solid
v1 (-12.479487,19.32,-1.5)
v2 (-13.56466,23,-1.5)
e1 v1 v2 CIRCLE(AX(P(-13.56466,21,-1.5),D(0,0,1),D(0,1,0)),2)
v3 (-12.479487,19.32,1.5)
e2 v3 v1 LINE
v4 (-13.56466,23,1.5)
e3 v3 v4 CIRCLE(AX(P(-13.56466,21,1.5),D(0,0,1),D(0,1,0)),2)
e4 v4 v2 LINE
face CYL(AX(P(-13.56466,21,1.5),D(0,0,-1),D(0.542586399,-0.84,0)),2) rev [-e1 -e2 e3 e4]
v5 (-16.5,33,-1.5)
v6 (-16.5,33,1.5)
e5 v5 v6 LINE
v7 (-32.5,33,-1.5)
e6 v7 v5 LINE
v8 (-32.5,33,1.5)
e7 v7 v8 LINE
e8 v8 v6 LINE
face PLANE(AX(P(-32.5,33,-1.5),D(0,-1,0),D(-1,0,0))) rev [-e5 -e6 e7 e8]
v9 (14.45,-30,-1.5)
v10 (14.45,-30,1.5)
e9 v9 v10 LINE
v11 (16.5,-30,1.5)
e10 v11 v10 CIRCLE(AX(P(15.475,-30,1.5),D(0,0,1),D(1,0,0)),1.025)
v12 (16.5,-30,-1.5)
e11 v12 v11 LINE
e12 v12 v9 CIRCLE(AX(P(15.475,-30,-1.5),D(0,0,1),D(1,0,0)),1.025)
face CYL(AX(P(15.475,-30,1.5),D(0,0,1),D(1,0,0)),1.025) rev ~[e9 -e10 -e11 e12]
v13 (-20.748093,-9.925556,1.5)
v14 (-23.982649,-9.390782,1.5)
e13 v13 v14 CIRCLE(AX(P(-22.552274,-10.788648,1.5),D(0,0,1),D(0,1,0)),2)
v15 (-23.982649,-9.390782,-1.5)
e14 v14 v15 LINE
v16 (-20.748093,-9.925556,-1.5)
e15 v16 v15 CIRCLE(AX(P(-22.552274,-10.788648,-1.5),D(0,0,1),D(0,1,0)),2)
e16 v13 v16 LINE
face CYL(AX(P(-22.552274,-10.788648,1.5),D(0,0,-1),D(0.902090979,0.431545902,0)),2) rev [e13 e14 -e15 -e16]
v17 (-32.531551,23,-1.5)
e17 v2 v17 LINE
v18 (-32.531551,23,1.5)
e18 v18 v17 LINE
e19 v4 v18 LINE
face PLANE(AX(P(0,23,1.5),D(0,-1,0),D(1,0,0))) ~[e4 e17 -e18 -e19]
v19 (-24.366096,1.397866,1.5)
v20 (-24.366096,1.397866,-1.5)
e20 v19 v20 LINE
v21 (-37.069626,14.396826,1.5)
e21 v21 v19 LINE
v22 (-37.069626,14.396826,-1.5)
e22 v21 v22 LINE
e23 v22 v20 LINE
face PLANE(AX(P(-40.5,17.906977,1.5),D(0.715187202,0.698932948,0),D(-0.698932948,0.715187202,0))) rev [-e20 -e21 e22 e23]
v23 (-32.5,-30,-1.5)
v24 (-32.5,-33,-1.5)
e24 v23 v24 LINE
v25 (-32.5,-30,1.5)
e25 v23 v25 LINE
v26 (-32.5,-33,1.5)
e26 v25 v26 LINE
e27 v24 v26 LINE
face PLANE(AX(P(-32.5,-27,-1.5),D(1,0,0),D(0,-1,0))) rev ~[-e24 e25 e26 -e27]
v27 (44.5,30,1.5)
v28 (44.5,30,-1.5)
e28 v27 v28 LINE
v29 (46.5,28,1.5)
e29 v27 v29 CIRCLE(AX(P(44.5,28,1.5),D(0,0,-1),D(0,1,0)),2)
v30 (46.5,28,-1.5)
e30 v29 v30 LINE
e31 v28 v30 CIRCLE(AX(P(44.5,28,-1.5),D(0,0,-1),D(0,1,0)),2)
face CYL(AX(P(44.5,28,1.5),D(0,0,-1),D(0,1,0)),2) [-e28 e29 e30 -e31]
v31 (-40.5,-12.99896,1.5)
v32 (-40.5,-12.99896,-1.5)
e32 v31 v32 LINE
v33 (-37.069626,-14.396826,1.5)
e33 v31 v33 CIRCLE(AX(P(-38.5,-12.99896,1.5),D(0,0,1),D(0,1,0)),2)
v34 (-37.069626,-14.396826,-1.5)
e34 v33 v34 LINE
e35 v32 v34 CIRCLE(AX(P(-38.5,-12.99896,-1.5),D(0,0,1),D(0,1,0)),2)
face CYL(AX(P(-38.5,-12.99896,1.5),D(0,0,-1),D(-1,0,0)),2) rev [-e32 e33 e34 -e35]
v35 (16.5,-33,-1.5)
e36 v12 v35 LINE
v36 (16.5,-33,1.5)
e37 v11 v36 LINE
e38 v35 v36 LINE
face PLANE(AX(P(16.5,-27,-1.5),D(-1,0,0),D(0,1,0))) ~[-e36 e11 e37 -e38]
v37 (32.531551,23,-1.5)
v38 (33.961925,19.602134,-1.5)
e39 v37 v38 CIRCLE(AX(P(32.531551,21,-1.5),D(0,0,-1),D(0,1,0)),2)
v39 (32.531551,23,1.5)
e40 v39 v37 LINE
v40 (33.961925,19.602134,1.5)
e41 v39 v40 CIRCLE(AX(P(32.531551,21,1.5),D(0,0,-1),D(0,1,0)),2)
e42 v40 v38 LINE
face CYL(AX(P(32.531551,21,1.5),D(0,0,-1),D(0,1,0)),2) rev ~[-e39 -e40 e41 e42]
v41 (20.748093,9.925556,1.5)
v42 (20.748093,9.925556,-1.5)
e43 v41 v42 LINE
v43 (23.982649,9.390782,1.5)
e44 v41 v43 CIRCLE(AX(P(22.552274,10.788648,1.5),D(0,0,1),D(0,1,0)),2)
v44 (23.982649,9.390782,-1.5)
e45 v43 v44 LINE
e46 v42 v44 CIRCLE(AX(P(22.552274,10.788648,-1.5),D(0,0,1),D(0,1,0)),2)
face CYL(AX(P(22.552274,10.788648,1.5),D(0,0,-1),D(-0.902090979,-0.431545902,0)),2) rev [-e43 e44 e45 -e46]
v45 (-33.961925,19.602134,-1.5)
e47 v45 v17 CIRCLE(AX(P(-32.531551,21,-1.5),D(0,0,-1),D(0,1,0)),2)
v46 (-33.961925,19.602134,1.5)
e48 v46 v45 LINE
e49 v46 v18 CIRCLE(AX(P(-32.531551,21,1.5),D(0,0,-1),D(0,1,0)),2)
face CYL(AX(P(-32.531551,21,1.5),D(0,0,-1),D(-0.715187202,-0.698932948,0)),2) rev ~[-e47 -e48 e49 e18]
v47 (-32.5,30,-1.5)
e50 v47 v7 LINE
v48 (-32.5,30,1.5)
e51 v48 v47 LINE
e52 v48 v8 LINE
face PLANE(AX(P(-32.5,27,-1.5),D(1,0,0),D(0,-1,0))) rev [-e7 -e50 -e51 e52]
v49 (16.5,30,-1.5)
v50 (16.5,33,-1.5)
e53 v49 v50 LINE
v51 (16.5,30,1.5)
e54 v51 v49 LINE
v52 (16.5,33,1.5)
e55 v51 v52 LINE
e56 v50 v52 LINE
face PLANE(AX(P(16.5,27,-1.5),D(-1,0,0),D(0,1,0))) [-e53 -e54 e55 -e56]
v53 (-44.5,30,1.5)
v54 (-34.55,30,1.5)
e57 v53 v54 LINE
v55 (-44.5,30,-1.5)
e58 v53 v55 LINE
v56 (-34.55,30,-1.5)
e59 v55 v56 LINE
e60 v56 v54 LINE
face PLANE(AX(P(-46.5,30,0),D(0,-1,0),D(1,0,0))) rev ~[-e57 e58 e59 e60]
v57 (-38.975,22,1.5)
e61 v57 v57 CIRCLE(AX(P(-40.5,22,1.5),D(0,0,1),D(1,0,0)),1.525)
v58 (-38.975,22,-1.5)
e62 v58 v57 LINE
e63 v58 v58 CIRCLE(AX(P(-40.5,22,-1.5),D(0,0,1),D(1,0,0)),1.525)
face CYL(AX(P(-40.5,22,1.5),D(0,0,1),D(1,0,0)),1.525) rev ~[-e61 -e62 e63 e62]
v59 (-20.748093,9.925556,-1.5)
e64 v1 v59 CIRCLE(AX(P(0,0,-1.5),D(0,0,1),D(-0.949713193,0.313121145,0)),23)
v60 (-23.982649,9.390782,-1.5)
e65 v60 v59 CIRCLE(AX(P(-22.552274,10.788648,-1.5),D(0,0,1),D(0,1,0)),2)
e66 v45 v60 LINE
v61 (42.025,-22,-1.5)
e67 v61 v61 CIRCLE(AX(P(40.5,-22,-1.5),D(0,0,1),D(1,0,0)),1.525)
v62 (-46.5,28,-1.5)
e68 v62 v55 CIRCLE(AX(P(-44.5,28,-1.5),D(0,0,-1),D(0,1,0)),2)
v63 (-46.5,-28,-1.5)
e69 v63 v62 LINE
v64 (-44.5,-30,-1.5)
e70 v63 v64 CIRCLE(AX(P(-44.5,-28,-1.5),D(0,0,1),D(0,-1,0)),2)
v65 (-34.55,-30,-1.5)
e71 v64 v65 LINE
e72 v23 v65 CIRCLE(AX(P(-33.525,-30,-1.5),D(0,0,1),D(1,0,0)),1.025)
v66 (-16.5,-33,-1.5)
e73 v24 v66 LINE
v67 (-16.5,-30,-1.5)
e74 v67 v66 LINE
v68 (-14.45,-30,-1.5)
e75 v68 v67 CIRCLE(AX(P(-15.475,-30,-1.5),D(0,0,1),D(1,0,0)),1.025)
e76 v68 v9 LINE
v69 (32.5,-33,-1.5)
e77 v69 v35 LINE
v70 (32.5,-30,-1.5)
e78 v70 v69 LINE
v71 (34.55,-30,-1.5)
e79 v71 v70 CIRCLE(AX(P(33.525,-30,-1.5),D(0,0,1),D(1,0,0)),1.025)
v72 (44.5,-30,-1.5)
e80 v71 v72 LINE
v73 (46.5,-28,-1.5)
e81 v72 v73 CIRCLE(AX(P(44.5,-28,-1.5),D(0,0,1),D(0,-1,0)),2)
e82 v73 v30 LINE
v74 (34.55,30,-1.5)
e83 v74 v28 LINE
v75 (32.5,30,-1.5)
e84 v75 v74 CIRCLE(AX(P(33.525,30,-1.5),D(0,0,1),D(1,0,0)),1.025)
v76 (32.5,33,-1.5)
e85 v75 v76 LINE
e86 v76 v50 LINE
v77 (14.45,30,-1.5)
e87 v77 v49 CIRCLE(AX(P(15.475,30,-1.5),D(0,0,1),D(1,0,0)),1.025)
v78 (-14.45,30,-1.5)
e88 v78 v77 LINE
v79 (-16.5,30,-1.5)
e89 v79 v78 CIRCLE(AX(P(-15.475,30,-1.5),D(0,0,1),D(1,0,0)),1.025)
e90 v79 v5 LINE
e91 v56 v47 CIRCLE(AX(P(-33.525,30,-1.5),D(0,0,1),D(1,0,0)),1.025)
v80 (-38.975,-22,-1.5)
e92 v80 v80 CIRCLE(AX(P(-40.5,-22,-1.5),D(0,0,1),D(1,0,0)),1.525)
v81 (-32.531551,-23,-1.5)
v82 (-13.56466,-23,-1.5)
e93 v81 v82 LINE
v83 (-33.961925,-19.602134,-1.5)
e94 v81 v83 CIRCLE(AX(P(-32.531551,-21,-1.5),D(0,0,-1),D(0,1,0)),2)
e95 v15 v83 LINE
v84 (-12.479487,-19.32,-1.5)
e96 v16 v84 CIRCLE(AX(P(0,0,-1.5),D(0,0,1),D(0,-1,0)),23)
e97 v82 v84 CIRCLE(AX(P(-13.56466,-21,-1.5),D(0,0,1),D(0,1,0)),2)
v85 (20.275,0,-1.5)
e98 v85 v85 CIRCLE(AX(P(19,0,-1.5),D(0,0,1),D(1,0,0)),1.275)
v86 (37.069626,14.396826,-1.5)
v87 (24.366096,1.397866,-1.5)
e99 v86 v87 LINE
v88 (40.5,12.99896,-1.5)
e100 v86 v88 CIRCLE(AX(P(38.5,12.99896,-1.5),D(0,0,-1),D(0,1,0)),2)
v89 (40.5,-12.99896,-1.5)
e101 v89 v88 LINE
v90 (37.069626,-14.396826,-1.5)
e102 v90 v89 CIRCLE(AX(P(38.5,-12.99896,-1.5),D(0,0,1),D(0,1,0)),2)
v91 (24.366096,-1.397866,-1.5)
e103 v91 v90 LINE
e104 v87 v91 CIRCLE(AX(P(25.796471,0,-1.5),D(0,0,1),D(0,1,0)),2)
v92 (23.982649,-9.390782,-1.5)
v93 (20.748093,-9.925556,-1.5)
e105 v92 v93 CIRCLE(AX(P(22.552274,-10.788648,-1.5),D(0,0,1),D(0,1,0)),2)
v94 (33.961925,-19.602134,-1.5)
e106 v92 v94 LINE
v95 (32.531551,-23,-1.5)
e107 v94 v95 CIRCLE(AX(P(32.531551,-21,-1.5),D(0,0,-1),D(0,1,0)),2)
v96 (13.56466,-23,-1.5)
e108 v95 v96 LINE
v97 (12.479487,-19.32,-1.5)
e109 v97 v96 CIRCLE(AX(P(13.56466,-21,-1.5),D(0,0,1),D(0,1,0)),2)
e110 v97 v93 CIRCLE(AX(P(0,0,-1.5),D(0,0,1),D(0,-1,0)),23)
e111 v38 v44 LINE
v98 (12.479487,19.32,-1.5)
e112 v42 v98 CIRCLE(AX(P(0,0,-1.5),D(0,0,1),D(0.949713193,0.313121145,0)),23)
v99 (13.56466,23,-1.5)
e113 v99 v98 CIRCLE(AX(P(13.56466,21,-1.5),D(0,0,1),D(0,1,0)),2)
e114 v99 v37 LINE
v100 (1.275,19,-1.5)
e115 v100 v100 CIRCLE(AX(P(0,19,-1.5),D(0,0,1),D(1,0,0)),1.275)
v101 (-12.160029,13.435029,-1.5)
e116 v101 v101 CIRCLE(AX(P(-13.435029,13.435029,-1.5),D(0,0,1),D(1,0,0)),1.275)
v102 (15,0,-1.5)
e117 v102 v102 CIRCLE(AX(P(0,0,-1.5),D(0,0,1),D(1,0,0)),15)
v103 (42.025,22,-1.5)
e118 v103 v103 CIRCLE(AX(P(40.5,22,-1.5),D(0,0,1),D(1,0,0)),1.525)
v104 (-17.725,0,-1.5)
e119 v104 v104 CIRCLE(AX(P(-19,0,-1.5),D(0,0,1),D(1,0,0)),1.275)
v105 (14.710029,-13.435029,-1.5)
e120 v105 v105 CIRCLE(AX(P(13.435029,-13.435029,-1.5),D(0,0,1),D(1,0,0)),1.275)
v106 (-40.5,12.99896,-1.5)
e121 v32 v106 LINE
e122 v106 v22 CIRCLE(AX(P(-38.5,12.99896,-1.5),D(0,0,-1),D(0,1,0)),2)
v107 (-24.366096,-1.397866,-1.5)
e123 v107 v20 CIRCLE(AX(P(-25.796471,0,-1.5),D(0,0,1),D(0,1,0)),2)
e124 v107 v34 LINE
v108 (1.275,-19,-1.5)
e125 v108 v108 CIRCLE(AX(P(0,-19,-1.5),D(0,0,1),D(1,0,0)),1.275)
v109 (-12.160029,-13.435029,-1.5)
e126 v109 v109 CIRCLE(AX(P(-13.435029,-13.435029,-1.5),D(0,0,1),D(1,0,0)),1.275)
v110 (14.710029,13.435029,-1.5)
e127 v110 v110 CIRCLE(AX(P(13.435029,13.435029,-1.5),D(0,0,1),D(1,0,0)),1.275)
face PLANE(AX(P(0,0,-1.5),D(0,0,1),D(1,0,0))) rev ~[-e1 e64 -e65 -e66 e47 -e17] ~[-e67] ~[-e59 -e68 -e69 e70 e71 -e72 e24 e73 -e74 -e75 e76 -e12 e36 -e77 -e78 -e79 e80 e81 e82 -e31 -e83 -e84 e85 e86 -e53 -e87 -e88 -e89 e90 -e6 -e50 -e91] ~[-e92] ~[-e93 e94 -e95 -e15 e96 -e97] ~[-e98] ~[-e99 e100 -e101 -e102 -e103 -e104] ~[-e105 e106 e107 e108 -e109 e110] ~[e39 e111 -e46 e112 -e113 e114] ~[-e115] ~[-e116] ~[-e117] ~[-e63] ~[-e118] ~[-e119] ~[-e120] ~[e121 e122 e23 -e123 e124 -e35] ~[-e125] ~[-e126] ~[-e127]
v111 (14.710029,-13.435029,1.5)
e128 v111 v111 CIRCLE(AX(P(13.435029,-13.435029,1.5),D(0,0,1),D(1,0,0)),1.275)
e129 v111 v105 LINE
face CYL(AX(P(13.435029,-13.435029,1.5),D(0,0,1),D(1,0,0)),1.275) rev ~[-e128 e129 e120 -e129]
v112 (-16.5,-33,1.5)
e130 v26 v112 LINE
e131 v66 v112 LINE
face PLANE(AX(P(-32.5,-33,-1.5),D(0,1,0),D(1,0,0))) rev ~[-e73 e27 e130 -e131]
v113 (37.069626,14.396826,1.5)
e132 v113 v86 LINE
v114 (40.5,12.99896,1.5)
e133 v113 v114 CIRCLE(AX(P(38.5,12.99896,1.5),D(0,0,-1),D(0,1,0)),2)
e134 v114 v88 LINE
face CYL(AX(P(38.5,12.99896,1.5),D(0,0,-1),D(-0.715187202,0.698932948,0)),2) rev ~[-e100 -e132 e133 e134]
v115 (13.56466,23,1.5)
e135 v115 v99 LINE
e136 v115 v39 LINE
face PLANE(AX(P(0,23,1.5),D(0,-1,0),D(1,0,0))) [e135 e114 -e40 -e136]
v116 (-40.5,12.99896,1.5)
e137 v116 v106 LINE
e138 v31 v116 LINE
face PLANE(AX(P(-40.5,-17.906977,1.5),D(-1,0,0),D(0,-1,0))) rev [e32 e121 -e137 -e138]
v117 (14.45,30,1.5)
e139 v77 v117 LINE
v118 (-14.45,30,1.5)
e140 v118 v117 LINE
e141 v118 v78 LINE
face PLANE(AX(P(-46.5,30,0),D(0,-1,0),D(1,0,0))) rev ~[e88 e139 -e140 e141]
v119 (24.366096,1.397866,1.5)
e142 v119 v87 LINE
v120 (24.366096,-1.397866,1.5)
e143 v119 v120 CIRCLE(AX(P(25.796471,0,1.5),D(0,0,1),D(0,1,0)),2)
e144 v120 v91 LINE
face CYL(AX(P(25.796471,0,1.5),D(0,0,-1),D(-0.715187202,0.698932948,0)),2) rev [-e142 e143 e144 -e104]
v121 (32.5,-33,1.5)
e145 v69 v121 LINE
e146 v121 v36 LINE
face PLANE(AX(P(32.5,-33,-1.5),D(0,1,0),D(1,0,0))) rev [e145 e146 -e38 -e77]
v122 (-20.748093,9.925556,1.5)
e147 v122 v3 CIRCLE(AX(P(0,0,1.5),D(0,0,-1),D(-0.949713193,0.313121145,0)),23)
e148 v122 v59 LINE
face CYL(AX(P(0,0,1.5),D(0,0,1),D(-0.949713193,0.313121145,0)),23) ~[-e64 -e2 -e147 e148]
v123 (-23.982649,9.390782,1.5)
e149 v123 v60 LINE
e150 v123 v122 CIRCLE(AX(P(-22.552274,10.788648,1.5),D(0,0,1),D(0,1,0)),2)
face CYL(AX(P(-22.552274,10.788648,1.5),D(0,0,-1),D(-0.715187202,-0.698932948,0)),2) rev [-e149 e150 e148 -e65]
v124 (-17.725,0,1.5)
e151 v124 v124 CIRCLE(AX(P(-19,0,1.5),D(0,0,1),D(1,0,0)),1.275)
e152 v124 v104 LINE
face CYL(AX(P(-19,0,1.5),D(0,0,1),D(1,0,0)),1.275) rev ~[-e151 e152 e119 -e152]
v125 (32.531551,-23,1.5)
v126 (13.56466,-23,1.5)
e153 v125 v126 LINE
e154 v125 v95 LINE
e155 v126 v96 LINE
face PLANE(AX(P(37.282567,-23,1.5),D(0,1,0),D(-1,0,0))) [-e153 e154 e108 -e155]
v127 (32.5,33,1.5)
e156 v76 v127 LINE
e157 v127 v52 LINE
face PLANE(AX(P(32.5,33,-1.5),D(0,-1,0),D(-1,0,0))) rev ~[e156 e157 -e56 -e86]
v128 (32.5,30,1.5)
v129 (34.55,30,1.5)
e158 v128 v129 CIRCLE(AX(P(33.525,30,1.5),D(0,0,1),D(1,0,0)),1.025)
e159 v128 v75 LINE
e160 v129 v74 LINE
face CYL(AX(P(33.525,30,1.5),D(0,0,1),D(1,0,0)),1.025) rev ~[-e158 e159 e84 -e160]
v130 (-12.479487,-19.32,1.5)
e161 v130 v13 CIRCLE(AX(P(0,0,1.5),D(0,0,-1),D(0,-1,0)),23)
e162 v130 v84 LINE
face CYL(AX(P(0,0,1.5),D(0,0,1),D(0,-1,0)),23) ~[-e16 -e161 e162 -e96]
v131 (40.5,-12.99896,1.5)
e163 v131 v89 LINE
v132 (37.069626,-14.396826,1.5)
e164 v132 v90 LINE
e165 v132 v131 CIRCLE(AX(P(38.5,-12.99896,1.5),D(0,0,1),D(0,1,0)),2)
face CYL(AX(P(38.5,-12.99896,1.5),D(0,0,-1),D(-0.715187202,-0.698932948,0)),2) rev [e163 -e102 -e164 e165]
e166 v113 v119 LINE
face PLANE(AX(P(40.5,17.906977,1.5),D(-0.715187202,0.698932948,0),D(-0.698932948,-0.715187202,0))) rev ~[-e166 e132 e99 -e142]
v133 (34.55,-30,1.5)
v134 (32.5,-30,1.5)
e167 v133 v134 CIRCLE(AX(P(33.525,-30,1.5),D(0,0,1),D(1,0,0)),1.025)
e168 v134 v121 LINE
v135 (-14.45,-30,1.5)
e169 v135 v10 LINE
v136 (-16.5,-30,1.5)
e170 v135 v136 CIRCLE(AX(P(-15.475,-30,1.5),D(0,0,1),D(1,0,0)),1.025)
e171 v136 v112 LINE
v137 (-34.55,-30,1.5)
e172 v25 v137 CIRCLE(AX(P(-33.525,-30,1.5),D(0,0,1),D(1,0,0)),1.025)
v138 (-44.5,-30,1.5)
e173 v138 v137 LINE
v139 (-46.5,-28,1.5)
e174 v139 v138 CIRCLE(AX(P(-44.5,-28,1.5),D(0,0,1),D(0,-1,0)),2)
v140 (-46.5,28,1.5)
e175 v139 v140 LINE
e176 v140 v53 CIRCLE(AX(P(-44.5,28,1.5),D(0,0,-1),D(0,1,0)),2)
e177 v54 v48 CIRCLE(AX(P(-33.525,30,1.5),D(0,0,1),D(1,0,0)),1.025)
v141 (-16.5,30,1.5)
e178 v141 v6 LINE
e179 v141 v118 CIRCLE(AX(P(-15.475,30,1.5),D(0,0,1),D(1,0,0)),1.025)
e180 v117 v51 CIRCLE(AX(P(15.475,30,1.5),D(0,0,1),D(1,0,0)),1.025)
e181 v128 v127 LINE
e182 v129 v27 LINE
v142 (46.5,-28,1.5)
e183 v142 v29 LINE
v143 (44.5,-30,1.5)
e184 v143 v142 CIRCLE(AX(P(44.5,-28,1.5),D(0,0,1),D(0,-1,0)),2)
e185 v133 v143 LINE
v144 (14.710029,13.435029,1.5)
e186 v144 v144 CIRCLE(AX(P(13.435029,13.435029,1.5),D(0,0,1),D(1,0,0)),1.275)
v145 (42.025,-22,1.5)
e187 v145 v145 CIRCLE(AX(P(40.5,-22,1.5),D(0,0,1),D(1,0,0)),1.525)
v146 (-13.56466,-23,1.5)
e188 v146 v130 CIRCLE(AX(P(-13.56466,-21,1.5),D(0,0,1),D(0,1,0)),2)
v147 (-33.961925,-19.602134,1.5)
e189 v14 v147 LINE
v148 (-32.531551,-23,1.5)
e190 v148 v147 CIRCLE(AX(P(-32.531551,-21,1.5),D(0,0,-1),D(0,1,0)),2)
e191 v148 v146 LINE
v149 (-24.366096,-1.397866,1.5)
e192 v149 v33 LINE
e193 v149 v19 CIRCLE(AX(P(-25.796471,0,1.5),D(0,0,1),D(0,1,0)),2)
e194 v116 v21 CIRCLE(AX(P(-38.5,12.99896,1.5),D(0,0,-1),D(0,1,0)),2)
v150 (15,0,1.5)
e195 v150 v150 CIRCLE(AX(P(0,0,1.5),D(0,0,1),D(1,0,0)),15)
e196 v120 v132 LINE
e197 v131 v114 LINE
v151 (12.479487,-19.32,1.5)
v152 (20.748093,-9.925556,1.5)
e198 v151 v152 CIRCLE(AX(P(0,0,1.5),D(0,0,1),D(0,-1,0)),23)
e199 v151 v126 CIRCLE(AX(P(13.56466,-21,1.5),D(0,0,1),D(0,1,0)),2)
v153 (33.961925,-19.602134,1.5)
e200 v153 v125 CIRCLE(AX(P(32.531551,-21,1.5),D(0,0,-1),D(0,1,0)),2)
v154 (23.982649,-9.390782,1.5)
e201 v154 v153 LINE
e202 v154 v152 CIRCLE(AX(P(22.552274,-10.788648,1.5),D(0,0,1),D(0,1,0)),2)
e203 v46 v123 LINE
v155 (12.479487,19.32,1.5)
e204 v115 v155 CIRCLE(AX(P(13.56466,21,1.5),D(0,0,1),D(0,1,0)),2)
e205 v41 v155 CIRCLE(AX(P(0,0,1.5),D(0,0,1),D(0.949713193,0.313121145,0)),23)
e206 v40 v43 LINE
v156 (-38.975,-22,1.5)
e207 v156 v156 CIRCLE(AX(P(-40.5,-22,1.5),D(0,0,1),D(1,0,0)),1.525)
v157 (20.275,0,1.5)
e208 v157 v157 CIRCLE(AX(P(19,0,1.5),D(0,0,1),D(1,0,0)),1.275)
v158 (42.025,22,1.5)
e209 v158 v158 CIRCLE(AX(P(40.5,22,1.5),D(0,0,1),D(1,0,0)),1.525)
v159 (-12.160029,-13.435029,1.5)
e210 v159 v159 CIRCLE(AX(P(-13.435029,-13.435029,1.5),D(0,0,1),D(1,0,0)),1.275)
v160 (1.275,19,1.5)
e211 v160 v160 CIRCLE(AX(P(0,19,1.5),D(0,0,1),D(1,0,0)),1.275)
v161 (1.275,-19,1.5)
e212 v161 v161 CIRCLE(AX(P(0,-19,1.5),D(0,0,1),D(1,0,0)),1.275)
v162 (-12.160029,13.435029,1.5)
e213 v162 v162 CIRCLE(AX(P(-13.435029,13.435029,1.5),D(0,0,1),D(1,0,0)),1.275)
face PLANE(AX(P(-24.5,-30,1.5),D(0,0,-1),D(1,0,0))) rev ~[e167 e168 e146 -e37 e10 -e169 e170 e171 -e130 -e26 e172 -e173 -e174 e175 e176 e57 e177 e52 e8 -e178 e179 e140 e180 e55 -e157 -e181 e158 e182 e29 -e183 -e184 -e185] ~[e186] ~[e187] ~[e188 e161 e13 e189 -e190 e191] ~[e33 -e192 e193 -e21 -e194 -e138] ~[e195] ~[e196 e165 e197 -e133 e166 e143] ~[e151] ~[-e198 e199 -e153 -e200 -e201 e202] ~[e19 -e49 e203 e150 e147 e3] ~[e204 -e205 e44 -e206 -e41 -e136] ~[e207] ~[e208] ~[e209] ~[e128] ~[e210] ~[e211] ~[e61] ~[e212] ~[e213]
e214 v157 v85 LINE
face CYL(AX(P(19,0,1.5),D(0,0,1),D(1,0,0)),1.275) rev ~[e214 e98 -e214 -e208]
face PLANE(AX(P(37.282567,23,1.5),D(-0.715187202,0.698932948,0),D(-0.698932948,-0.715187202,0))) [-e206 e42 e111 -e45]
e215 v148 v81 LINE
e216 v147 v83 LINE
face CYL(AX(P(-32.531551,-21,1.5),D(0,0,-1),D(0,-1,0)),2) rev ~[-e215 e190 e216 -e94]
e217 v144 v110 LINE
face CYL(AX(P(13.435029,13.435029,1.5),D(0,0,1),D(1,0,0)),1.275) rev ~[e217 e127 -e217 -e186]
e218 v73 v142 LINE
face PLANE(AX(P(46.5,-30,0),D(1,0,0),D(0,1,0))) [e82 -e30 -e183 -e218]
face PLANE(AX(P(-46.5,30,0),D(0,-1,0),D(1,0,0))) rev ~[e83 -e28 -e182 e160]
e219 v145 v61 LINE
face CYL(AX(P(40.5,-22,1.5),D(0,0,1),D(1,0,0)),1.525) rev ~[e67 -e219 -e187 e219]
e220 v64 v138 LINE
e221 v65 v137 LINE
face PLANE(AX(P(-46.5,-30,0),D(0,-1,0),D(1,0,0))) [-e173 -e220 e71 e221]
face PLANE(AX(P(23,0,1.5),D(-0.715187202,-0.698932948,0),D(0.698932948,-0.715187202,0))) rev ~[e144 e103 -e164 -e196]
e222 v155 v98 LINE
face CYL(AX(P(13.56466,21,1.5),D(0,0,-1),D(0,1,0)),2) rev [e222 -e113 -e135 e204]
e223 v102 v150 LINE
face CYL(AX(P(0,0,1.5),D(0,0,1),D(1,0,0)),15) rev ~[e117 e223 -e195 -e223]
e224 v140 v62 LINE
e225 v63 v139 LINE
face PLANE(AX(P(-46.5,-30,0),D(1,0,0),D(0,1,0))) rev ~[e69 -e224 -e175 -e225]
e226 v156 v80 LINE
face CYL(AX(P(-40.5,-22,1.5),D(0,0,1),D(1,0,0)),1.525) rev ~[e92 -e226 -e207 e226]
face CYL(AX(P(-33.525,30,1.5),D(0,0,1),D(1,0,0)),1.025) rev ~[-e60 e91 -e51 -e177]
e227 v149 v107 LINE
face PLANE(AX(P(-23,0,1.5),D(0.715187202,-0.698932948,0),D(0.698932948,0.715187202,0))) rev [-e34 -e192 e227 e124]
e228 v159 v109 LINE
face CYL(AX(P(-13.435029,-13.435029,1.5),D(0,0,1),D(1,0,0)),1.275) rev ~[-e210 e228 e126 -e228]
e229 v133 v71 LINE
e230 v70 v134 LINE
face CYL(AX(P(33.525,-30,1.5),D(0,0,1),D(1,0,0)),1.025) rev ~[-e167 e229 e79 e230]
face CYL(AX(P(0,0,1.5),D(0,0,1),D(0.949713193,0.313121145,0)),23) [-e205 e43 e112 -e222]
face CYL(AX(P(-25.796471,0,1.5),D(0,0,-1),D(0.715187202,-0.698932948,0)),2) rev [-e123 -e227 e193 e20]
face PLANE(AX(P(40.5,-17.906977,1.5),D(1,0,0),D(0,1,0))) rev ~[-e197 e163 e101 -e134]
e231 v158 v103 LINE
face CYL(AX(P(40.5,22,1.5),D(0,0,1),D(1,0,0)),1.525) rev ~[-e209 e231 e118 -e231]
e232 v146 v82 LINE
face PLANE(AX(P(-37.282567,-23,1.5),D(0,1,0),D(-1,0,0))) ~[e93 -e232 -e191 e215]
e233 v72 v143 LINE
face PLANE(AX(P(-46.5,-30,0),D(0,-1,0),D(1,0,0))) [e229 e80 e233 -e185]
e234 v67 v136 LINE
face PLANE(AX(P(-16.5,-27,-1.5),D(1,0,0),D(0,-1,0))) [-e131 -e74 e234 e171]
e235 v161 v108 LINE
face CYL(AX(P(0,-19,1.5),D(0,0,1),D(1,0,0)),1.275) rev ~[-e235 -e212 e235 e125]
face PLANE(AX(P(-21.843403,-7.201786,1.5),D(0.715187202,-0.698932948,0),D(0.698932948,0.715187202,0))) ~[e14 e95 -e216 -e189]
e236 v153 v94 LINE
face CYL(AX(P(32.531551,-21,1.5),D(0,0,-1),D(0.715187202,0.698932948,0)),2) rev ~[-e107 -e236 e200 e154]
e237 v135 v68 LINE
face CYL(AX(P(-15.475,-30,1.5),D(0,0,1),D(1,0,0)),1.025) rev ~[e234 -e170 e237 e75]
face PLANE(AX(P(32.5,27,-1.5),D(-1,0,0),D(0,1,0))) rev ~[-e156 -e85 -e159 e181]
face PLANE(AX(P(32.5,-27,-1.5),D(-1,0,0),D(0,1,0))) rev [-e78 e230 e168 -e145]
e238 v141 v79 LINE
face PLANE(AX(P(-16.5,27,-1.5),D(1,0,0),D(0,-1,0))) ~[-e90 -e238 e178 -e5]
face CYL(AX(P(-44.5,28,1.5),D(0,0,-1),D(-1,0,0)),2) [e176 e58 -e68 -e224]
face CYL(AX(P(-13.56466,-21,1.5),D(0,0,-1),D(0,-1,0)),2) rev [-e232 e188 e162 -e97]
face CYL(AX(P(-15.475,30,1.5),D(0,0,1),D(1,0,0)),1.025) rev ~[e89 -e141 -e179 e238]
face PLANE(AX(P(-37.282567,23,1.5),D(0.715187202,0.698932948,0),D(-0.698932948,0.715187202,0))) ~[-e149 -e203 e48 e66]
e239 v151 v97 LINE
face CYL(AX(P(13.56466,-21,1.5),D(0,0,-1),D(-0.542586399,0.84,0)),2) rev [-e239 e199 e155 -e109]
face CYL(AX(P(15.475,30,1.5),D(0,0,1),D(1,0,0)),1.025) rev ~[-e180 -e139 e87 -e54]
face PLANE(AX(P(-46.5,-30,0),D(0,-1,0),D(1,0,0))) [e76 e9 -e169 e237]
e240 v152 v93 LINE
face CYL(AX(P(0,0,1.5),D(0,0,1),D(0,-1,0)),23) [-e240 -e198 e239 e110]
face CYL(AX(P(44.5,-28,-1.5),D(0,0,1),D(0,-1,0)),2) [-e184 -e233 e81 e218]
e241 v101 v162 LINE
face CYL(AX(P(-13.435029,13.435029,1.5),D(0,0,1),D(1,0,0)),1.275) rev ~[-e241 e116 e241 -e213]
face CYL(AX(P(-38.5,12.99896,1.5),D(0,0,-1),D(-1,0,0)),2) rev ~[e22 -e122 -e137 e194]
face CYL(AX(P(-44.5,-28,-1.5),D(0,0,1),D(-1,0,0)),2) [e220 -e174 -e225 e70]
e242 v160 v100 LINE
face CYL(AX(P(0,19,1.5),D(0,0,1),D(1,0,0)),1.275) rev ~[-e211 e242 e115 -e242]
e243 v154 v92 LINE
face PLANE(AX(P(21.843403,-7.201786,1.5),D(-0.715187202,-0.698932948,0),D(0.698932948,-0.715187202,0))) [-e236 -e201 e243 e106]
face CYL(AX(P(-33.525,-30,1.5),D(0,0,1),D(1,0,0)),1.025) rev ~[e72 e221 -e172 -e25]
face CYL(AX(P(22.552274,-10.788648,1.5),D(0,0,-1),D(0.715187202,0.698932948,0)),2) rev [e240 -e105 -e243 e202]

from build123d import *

# Parameters (mm, degrees)
SKETCH_1_W               = 93
SKETCH_1_H               = 60
EXTRUDE_1_DEPTH          = 1.5
SKETCH_2_R               = 15
CUT_EXTRUDE_1_DEPTH      = 12
SKETCH_4_R               = 1.525
CUT_EXTRUDE_3_DEPTH      = 15
SKETCH_5_R               = 1.275
CUT_EXTRUDE_4_DEPTH      = 15
CUT_EXTRUDE_7_DEPTH      = 10
FILLET_3_R               = 2
FILLET_3_OF_MIRROR_3_R   = 2
FILLET_4_R               = 2
SKETCH_10_W              = 16
SKETCH_10_H              = 6
EXTRUDE_2_DEPTH          = 3
MIRROR_5_COPY_1_SKETCH_W = 16
MIRROR_5_COPY_1_SKETCH_H = 6
MIRROR_5_COPY_1_DEPTH    = 3
SKETCH_11_R              = 1.025
CUT_EXTRUDE_8_DEPTH      = 3


with BuildPart() as part:
    # 草图1 → 凸台-拉伸1 (new body, symmetric)
    with BuildSketch(Plane.XY):
        Rectangle(SKETCH_1_W, SKETCH_1_H)
    extrude(amount=EXTRUDE_1_DEPTH, both=True)

    # 草图2 → 切除-拉伸1 (cut, symmetric)
    with BuildSketch(Plane.XY.offset(1.5)):
        Circle(SKETCH_2_R)
    extrude(amount=CUT_EXTRUDE_1_DEPTH, both=True, mode=Mode.SUBTRACT)

    # 草图4 → 切除-拉伸3 (cut, symmetric)
    with BuildSketch(Plane.XY.offset(1.5)):
        with Locations((40.5, -22)):
            Circle(SKETCH_4_R)
        with Locations((40.5, 22)):
            Circle(SKETCH_4_R)
        with Locations((-40.5, -22)):
            Circle(SKETCH_4_R)
        with Locations((-40.5, 22)):
            Circle(SKETCH_4_R)
    extrude(amount=CUT_EXTRUDE_3_DEPTH, both=True, mode=Mode.SUBTRACT)

    # 草图5 → 切除-拉伸4 (cut, symmetric)
    with BuildSketch(Plane.XY.offset(1.5)):
        with Locations((0, 19)):
            Circle(SKETCH_5_R)
        with Locations((13.435028843, 13.435028843)):
            Circle(SKETCH_5_R)
        with Locations((19, 0)):
            Circle(SKETCH_5_R)
        with Locations((13.435028843, -13.435028843)):
            Circle(SKETCH_5_R)
        with Locations((0, -19)):
            Circle(SKETCH_5_R)
        with Locations((-13.435028843, -13.435028843)):
            Circle(SKETCH_5_R)
        with Locations((-19, 0)):
            Circle(SKETCH_5_R)
        with Locations((-13.435028843, 13.435028843)):
            Circle(SKETCH_5_R)
    extrude(amount=CUT_EXTRUDE_4_DEPTH, both=True, mode=Mode.SUBTRACT)

    # 草图9 → 切除-拉伸7 (cut)
    with BuildSketch(Plane.XY.offset(1.5)):
        Polygon((40.5, 17.906976744), (23, 0), (40.5, -17.906976744), align=None)
        with BuildLine():
            Line((37.282566796, 23), (21.843403436, 7.201786329))
            ThreePointArc((21.843403436, 7.201786329), (13.478852222, 18.636537843), (0, 23))
            Line((0, 23), (37.282566796, 23))
        make_face()
        with BuildLine():
            Line((37.282566796, -23), (0, -23))
            ThreePointArc((0, -23), (13.478852222, -18.636537843), (21.843403436, -7.201786329))
            Line((21.843403436, -7.201786329), (37.282566796, -23))
        make_face()
    cut_extrude_7 = extrude(amount=-CUT_EXTRUDE_7_DEPTH, mode=Mode.SUBTRACT)

    # 圆角3
    fillet_3_edges = [part.edges().sort_by_distance(p)[0] for p in [
        (0, -23, 0),
        (21.843403436, -7.201786329, 0),
        (37.282566796, -23, 0),
        (0, 23, 0),
        (37.282566796, 23, 0),
        (21.843403436, 7.201786329, 0),
        (40.5, 17.906976744, 0),
        (40.5, -17.906976744, 0),
        (23, 0, 0),
    ]]
    fillet(fillet_3_edges, radius=FILLET_3_R)

    # 镜向3: 切除-拉伸7 across plane
    add(cut_extrude_7.mirror(Plane(origin=(0, 0, 0), x_dir=(0, 0, 1), z_dir=(1, 0, 0))), mode=Mode.SUBTRACT)

    # 圆角3 of 镜向3
    fillet_3_of_mirror_3_edges = [part.edges().sort_by_distance(p)[0] for p in [
        (0, -23, 0),
        (-21.843403436, -7.201786329, 0),
        (-37.282566796, -23, 0),
        (0, 23, 0),
        (-37.282566796, 23, 0),
        (-21.843403436, 7.201786329, 0),
        (-40.5, 17.906976744, 0),
        (-40.5, -17.906976744, 0),
        (-23, 0, 0),
    ]]
    fillet(fillet_3_of_mirror_3_edges, radius=FILLET_3_OF_MIRROR_3_R)

    # 圆角4
    fillet_4_edges = [part.edges().sort_by_distance(p)[0] for p in [
        (46.5, -30, 0),
        (-46.5, -30, 0),
        (-46.5, 30, 0),
        (46.5, 30, 0),
    ]]
    fillet(fillet_4_edges, radius=FILLET_4_R)

    # 草图10 → 凸台-拉伸2 (add)
    with BuildSketch(Plane(origin=(0, 0, -1.5), x_dir=(-1, 0, 0), z_dir=(0, 0, -1))):
        with Locations((-24.5, 30)):
            Rectangle(SKETCH_10_W, SKETCH_10_H)
    extrude_2 = extrude(amount=-EXTRUDE_2_DEPTH)

    # 镜向4: 凸台-拉伸2 across plane
    add(extrude_2.mirror(Plane(origin=(0, 0, 0), x_dir=(0, 0, 1), z_dir=(1, 0, 0))))

    # 镜向5: 凸台-拉伸2 across plane
    add(extrude_2.mirror(Plane.ZX))

    # 镜向5 copy 1 sketch → 镜向5 copy 1 (add)
    with BuildSketch(Plane(origin=(0, 0, -1.5), x_dir=(1, 0, 0), z_dir=(0, 0, -1))):
        with Locations((-24.5, 30)):
            Rectangle(MIRROR_5_COPY_1_SKETCH_W, MIRROR_5_COPY_1_SKETCH_H)
    extrude(amount=-MIRROR_5_COPY_1_DEPTH)

    # 草图11 → 切除-拉伸8 (cut)
    with BuildSketch(Plane.XY.offset(1.5)):
        with Locations((33.525, 30)):
            Circle(SKETCH_11_R)
        with Locations((15.475, 30)):
            Circle(SKETCH_11_R)
        with Locations((-15.475, 30)):
            Circle(SKETCH_11_R)
        with Locations((-33.525, 30)):
            Circle(SKETCH_11_R)
        with Locations((-33.525, -30)):
            Circle(SKETCH_11_R)
        with Locations((-15.475, -30)):
            Circle(SKETCH_11_R)
        with Locations((15.475, -30)):
            Circle(SKETCH_11_R)
        with Locations((33.525, -30)):
            Circle(SKETCH_11_R)
    extrude(amount=-CUT_EXTRUDE_8_DEPTH, mode=Mode.SUBTRACT)


solid = part.part
